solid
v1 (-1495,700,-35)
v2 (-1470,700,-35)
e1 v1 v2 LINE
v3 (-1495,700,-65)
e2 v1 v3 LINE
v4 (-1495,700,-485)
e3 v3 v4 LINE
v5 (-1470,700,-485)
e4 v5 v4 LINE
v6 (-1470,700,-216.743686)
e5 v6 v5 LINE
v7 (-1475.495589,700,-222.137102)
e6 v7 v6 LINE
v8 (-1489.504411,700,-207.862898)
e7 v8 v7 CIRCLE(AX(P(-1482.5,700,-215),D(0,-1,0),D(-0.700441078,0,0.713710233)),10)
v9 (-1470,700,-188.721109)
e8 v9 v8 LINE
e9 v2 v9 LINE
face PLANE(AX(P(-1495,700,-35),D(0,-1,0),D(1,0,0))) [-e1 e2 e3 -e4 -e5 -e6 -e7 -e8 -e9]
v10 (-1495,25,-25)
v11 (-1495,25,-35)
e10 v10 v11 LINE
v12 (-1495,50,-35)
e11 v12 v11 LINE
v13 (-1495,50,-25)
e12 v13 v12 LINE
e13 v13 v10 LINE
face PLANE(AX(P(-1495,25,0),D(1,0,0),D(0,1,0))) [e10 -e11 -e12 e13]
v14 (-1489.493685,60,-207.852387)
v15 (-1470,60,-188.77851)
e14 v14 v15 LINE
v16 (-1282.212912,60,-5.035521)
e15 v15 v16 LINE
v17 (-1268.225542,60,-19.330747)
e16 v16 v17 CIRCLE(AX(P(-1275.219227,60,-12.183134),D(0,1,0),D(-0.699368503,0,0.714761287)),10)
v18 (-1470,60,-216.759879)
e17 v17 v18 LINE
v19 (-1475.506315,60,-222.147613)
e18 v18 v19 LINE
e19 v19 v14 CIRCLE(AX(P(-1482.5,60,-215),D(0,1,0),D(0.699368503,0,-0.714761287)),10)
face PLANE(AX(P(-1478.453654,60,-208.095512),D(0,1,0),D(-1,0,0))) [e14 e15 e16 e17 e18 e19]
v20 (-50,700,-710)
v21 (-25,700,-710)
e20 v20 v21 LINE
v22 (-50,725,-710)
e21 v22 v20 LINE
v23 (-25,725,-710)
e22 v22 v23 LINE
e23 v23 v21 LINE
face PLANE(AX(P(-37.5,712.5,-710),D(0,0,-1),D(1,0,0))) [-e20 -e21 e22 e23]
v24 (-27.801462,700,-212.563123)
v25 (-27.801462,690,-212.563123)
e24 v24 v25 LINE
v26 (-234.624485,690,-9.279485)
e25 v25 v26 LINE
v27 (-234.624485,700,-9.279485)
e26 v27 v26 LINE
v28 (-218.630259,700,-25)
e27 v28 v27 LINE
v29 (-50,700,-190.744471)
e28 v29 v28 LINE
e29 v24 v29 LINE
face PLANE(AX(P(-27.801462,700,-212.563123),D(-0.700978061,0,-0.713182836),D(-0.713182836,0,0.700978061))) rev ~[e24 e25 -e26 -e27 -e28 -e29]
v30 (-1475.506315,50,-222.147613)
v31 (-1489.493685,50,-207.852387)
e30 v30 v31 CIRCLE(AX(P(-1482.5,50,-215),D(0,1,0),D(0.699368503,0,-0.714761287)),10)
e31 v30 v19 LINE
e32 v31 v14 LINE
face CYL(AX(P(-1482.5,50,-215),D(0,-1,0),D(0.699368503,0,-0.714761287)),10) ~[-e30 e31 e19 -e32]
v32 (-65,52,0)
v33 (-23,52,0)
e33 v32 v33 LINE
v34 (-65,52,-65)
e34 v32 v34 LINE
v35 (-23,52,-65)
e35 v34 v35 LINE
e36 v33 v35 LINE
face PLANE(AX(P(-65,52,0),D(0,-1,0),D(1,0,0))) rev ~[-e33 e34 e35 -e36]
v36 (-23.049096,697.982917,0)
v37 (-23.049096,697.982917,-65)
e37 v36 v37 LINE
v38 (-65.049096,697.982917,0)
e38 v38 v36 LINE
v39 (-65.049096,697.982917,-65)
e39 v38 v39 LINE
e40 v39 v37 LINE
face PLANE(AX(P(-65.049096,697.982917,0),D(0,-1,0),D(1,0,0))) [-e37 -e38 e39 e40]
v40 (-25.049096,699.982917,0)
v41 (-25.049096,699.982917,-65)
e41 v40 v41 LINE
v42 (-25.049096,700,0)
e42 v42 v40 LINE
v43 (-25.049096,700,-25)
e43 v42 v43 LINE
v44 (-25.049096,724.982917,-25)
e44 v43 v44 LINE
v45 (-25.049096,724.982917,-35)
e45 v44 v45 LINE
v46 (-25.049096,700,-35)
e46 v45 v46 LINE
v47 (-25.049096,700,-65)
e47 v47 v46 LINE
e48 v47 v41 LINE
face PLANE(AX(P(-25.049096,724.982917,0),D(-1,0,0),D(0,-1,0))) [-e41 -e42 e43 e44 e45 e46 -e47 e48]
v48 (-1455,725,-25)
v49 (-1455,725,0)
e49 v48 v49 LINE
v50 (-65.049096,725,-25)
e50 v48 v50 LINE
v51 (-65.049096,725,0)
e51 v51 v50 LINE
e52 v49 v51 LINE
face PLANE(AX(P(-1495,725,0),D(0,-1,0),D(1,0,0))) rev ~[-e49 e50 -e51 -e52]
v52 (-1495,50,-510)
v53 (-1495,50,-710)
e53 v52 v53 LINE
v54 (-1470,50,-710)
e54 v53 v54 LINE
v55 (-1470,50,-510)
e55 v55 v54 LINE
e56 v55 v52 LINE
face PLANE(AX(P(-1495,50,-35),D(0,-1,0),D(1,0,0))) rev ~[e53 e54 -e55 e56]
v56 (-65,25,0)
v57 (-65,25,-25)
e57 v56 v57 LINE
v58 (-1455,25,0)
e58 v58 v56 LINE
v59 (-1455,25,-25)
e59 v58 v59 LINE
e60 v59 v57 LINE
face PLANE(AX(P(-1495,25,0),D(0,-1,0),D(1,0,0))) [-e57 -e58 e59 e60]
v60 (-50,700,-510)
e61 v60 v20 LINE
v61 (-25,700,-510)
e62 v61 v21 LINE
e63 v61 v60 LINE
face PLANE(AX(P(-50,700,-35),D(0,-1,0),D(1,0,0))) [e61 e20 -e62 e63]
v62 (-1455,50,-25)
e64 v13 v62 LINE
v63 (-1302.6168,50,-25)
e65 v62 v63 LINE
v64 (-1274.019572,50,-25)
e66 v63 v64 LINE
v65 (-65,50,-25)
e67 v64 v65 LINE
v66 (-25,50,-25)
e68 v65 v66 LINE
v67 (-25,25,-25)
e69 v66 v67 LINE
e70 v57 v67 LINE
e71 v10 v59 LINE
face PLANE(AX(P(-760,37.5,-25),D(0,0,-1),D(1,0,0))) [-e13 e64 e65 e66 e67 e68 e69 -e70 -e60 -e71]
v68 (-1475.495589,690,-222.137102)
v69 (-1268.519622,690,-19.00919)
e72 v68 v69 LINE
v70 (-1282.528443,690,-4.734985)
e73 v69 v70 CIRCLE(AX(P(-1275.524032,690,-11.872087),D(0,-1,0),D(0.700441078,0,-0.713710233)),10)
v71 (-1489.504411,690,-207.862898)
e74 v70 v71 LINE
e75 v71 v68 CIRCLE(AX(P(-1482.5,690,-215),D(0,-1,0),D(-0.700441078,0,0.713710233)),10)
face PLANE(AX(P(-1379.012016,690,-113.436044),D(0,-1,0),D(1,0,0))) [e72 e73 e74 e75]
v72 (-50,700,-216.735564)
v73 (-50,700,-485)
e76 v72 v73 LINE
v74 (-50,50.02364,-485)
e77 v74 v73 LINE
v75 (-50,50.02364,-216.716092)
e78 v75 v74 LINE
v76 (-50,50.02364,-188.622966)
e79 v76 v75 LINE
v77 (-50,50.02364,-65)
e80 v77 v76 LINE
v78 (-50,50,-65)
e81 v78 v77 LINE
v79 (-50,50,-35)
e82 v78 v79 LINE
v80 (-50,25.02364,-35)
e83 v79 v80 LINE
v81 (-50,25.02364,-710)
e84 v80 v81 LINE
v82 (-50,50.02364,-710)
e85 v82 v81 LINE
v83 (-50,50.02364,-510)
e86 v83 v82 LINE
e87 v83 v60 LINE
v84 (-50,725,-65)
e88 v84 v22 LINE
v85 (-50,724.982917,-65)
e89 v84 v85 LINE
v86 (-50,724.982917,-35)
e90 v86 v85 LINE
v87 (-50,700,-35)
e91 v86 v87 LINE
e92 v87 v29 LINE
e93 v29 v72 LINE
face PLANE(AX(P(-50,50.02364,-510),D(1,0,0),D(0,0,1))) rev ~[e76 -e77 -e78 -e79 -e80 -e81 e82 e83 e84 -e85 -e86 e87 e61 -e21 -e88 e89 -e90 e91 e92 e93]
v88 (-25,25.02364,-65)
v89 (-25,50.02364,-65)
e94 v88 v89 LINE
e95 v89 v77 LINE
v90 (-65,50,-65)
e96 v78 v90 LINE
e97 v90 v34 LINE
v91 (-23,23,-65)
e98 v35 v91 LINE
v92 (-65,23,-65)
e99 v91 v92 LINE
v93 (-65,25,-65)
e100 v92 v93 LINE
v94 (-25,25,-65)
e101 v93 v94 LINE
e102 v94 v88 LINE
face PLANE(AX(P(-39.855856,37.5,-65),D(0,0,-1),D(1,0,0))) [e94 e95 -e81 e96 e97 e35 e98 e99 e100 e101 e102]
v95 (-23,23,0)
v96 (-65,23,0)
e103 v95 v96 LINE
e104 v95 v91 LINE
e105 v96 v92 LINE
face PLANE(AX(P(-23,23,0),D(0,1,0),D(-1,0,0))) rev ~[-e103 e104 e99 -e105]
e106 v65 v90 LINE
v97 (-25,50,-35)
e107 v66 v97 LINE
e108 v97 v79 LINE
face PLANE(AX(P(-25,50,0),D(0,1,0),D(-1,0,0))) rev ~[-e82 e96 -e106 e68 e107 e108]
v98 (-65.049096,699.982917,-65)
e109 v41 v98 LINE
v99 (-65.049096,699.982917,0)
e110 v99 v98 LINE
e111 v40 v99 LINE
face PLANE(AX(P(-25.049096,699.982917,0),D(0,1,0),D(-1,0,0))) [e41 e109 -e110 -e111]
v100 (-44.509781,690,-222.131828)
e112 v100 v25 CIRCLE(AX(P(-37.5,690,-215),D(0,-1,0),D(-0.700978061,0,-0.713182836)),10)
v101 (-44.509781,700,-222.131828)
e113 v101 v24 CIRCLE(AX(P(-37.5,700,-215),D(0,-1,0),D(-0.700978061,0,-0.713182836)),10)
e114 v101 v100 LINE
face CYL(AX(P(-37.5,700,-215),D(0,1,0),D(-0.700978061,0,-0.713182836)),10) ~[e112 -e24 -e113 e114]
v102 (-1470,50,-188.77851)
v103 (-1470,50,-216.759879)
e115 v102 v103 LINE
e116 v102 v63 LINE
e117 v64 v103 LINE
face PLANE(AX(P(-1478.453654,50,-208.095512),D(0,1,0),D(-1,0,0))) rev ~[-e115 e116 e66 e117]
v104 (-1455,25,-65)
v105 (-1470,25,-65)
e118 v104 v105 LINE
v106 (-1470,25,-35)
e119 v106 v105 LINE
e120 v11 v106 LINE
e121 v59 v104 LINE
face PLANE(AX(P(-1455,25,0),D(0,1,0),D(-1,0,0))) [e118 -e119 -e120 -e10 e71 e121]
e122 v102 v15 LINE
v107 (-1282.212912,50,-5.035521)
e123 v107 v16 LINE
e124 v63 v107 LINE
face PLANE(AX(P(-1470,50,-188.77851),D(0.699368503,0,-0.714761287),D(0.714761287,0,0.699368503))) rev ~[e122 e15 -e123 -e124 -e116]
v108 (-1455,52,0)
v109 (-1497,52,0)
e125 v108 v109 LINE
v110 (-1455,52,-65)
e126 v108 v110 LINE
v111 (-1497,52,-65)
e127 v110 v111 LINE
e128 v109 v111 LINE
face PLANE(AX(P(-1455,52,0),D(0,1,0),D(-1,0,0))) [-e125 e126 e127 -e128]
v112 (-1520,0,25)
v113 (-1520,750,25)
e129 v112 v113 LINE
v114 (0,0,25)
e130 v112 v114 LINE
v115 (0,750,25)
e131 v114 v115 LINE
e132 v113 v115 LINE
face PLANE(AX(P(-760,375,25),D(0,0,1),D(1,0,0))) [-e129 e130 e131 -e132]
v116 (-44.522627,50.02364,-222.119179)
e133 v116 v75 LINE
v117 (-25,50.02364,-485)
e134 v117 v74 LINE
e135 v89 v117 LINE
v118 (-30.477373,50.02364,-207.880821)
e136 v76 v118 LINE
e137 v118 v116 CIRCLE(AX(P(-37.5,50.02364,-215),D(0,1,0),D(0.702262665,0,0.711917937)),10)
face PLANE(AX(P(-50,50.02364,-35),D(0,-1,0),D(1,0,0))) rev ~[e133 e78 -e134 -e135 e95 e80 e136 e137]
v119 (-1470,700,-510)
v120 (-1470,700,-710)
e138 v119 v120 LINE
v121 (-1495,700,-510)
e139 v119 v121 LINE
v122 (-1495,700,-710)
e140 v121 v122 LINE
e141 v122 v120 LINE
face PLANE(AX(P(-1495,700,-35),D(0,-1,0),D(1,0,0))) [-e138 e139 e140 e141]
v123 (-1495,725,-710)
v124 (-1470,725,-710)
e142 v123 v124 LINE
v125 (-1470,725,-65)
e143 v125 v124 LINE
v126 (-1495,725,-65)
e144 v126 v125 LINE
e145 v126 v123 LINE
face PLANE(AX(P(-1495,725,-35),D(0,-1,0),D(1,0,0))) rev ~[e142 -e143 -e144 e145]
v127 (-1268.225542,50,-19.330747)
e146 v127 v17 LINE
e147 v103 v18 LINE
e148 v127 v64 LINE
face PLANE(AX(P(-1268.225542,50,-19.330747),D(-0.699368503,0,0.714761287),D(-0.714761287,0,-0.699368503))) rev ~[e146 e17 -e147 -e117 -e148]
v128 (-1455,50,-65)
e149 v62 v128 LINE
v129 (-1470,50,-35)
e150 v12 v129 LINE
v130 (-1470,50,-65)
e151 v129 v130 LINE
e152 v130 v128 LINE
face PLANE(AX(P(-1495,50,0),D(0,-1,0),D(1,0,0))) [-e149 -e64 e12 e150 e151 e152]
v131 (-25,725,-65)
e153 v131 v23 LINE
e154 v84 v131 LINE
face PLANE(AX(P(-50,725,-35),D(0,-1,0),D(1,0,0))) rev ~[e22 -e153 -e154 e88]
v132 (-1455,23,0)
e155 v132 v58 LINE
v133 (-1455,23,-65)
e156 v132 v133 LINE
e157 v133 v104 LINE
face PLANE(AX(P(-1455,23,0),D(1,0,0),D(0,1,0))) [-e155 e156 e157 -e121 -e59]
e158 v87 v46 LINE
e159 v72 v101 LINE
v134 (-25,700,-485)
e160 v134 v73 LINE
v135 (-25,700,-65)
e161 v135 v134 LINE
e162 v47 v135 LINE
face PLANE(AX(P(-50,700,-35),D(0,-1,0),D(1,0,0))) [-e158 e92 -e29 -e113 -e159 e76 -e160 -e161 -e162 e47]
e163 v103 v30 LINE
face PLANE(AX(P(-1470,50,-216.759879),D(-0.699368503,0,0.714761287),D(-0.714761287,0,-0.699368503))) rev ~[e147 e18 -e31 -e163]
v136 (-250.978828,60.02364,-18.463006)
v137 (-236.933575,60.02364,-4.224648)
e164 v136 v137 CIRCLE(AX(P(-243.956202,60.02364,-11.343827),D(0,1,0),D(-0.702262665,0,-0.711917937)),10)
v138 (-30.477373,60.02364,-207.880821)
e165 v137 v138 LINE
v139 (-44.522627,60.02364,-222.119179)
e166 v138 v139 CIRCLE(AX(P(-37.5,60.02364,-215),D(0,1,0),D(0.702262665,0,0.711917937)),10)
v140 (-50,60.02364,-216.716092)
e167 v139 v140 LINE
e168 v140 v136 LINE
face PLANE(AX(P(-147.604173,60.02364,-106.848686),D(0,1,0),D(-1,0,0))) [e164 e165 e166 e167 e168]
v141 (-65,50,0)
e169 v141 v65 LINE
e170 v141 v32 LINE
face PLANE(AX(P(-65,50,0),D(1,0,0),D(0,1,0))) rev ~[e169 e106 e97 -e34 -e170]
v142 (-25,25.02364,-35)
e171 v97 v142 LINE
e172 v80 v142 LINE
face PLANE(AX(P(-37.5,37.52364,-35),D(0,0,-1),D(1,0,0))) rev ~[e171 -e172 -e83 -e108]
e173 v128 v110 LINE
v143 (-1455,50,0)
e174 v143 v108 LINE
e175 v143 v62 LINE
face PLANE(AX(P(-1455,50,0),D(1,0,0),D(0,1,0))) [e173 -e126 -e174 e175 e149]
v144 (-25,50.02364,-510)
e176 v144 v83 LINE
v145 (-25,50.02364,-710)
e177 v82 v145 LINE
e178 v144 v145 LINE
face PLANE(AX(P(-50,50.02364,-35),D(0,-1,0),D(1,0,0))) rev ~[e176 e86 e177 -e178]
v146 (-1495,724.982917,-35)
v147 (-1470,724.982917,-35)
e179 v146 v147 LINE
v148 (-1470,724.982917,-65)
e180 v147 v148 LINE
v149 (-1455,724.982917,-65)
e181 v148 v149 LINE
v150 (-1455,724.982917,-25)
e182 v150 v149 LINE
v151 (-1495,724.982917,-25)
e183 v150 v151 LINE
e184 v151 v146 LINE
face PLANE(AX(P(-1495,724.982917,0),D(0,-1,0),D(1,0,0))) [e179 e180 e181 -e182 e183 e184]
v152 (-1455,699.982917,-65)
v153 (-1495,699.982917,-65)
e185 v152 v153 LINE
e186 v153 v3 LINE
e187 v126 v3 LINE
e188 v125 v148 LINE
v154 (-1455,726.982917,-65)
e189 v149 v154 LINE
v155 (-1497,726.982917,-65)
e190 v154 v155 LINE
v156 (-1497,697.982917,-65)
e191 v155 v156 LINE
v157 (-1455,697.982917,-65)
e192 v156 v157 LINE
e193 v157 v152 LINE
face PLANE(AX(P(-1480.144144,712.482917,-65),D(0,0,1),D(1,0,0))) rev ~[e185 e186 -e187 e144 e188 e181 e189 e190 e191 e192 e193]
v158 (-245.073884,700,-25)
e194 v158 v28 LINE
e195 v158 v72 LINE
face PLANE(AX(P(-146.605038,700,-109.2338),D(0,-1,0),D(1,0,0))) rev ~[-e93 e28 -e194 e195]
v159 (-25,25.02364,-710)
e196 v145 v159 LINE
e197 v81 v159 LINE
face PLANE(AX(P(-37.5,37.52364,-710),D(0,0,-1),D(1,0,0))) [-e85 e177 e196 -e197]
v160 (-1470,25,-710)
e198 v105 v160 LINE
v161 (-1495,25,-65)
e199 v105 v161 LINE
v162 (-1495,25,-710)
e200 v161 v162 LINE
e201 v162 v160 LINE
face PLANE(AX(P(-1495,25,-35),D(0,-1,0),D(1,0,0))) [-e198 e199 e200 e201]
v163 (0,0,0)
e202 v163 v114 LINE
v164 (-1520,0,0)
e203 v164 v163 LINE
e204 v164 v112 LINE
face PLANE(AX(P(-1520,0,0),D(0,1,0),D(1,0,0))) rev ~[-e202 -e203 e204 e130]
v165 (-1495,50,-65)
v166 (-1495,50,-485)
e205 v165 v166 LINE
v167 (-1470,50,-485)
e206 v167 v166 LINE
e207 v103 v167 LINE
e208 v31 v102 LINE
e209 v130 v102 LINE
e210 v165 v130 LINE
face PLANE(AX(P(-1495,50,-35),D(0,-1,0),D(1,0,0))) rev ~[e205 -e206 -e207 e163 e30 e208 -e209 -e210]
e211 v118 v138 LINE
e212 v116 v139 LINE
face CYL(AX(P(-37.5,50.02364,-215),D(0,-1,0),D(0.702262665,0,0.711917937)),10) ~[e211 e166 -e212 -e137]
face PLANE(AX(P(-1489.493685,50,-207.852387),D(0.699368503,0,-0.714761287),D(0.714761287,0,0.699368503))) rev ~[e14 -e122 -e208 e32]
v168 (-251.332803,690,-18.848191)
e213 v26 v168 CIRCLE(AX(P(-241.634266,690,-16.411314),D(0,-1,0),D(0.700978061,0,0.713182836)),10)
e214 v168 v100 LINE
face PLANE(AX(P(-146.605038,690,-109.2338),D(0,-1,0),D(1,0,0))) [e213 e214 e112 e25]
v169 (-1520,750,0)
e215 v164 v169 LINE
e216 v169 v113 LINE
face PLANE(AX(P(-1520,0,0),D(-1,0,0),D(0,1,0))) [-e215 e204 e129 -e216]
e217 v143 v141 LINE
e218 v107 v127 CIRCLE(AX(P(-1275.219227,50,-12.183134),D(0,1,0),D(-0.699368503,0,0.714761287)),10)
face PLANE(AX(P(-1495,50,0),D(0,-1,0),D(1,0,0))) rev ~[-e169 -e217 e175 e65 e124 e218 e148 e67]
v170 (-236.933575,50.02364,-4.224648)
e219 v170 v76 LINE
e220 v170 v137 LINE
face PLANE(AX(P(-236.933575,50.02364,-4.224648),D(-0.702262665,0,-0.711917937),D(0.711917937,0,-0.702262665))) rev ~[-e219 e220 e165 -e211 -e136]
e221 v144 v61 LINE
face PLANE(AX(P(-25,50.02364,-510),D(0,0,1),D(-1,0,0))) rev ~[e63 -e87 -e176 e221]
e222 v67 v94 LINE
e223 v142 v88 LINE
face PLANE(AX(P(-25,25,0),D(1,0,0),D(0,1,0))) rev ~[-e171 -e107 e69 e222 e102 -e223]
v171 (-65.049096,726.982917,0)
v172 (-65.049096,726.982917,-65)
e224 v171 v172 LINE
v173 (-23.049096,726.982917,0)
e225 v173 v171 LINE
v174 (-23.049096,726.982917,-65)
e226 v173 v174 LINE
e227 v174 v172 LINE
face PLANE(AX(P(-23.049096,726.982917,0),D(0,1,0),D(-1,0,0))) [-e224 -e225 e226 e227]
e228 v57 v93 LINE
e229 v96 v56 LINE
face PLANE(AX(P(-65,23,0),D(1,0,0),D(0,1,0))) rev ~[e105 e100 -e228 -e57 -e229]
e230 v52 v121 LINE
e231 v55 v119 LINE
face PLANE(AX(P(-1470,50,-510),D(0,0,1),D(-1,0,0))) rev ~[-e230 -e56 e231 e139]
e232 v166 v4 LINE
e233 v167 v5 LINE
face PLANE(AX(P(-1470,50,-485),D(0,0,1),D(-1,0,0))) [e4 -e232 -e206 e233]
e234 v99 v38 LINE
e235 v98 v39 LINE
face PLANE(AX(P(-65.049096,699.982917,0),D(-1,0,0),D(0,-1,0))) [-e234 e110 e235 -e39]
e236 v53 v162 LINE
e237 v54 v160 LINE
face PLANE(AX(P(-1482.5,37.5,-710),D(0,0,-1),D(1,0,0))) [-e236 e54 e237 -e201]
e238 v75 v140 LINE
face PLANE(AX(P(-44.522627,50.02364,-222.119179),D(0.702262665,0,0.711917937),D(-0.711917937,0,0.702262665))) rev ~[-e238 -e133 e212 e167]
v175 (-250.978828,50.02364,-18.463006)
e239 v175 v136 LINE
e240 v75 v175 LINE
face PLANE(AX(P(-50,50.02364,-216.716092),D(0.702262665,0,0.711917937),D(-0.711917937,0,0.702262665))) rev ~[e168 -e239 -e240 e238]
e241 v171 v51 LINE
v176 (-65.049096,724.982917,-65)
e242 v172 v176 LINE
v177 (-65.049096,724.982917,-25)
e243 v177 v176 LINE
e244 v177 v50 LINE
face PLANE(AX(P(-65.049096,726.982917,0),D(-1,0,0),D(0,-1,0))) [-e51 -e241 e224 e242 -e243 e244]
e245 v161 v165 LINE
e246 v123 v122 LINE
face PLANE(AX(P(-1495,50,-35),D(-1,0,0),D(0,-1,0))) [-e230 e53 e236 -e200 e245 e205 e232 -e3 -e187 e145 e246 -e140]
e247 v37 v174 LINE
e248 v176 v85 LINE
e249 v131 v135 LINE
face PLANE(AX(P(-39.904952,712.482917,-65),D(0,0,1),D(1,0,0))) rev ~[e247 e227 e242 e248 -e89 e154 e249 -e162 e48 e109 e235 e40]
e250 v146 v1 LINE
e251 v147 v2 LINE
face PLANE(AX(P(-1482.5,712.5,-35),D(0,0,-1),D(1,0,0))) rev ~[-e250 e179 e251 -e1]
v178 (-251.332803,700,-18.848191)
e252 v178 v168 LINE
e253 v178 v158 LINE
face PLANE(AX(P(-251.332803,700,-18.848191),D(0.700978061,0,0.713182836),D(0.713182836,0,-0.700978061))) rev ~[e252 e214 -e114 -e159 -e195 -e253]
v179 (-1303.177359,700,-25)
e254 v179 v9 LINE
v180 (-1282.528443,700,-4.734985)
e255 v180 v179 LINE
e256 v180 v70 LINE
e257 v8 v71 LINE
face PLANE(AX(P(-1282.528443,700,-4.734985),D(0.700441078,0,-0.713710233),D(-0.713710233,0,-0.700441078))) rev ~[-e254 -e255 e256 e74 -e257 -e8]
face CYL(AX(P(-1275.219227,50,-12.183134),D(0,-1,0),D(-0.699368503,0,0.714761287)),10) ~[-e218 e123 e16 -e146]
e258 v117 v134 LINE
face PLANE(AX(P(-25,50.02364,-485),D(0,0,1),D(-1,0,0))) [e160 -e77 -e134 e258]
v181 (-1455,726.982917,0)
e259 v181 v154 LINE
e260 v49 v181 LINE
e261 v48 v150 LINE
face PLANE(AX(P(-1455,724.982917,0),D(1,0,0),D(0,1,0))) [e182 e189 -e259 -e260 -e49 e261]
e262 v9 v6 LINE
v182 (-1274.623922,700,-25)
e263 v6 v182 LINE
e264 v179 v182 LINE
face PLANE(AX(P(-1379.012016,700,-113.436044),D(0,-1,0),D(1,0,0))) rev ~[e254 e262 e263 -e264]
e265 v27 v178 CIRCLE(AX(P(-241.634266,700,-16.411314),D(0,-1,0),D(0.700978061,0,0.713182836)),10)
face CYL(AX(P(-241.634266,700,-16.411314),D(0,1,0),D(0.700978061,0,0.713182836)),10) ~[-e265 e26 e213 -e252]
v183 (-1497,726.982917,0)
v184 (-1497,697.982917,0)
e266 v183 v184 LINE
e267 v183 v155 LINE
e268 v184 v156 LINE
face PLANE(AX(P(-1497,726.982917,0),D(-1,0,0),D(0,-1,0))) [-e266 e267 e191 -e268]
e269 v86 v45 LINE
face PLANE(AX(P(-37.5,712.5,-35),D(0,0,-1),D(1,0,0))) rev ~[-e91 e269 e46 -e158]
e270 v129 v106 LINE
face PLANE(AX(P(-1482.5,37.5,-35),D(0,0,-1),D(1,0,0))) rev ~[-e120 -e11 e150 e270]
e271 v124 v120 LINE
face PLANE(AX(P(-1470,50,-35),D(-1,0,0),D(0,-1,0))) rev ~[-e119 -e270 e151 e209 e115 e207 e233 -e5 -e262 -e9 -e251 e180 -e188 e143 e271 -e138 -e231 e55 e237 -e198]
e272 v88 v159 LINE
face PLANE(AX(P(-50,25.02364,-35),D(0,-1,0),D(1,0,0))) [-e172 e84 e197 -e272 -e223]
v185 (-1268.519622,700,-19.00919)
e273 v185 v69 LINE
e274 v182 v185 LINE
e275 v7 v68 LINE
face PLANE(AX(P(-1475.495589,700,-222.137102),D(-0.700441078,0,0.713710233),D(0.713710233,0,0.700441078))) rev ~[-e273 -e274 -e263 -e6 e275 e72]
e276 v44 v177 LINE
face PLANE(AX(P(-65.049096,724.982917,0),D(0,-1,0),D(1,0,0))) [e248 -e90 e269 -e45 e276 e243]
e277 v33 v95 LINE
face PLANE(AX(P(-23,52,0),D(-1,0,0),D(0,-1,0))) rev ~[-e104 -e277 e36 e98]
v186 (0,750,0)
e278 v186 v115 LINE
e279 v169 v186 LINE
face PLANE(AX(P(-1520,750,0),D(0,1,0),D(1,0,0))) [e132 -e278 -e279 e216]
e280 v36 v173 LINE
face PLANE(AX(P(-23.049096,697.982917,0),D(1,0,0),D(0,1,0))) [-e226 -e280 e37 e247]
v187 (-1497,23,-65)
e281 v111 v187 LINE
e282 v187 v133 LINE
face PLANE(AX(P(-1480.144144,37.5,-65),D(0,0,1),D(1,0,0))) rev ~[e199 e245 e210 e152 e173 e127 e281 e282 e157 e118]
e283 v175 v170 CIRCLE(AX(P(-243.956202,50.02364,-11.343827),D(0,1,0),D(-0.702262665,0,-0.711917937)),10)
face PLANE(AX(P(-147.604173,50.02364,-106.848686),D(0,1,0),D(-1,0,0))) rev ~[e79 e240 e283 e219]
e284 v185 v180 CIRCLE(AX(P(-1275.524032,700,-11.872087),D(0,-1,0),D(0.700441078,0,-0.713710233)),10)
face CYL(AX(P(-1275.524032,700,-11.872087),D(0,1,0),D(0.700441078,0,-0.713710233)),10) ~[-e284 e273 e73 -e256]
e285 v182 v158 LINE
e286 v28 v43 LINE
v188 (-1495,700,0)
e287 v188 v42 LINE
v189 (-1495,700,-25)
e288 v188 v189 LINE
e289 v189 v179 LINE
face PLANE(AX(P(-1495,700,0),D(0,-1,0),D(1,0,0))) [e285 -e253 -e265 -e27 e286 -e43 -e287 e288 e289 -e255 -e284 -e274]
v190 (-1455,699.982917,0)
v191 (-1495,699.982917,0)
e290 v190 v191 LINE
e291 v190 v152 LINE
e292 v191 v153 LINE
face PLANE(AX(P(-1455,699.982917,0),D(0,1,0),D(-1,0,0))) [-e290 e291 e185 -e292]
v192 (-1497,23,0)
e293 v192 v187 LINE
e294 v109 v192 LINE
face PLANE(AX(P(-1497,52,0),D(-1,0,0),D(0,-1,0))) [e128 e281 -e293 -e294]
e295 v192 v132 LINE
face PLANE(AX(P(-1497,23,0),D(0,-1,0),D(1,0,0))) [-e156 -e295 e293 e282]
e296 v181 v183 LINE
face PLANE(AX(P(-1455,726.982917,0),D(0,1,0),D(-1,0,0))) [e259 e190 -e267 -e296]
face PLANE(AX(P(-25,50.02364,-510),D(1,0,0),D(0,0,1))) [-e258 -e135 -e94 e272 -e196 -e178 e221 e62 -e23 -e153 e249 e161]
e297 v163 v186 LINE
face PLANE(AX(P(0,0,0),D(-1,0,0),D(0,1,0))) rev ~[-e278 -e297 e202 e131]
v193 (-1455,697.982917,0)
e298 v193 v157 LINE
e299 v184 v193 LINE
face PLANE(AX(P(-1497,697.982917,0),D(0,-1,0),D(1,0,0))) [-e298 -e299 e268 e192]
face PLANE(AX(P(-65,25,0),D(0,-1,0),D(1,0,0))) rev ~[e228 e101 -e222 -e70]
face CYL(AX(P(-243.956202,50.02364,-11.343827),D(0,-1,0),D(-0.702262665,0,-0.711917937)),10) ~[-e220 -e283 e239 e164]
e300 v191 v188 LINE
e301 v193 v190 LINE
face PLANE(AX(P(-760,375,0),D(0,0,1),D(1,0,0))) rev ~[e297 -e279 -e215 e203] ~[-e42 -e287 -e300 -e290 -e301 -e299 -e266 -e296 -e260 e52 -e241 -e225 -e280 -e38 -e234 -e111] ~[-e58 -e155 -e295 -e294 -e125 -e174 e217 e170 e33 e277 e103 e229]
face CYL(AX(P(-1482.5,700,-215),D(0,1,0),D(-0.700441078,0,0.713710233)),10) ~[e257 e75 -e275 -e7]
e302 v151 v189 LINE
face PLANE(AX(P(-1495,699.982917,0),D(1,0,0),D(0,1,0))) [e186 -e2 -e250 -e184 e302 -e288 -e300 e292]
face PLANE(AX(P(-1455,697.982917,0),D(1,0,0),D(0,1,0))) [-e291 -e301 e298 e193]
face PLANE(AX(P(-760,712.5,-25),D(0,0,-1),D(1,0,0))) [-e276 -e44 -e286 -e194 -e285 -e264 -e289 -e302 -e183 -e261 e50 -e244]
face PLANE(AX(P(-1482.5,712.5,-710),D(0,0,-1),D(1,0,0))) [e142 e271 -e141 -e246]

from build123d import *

# Parameters (mm, degrees)
F0_W      = 1520
F0_H      = 750
F1_DEPTH  = 25
F2_W      = 1470
F2_H      = 25
F3_DEPTH  = 25
F5_DEPTH  = 65
F7_W      = 25
F7_H      = 25
F8_DEPTH  = 675
F10_DEPTH = 65
F12_W     = 25
F12_H     = 25
F13_DEPTH = 675
F15_W     = 25
F15_H     = 25
F16_DEPTH = 675
F18_W     = 25
F18_H     = 25
F19_DEPTH = 650
F21_W     = 25
F21_H     = 25
F22_DEPTH = 650
F24_DEPTH = 10
F26_DEPTH = 10
F29_DEPTH = 10
F31_DEPTH = 10


with BuildPart() as f1:
    # F0 (on Top) → F1 (new body)
    with BuildSketch(Plane.XY):
        with Locations((-760, 375)):
            Rectangle(F0_W, F0_H)
    extrude(amount=F1_DEPTH)

    # F2 (on face) → F3 (join)
    with BuildSketch(Plane(origin=(0, 0, 0), x_dir=(1, 0, 0), z_dir=(0, 0, -1))):
        with Locations((-760, -37.5)):
            Rectangle(F2_W, F2_H)
        with Locations((-760, -712.5)):
            Rectangle(F2_W, F2_H)
    extrude(amount=F3_DEPTH)

    # F4 (on face) → F5 (join)
    with BuildSketch(Plane(origin=(0, 0, 0), x_dir=(1, 0, 0), z_dir=(0, 0, -1))):
        Polygon((-65, -25), (-25, -25), (-25, -50), (-65, -50), (-65, -52), (-23, -52), (-23, -23), (-65, -23), align=None)
    extrude(amount=F5_DEPTH)

    # F7 (on offset) → F8 (join)
    with BuildSketch(Plane(origin=(0, 0, -35), x_dir=(1, 0, 0), z_dir=(0, 0, -1))):
        with Locations((-37.5, -37.523640207)):
            Rectangle(F7_W, F7_H)
    extrude(amount=F8_DEPTH)

    # F9 (on face) → F10 (join)
    with BuildSketch(Plane.XY):
        Polygon((-1495, 724.9829173088), (-1455, 724.9829173088), (-1455, 726.9829173088), (-1497, 726.9829173088), (-1497, 697.9829173088), (-1455, 697.9829173088), (-1455, 699.9829173088), (-1495, 699.9829173088), align=None)
        Polygon((-65.0490959734, 726.9829173088), (-65.0490959734, 724.9829173088), (-25.0490959734, 724.9829173088), (-25.0490959734, 699.9829173088), (-65.0490959734, 699.9829173088), (-65.0490959734, 697.9829173088), (-23.0490959734, 697.9829173088), (-23.0490959734, 726.9829173088), align=None)
        Polygon((-1455, 25), (-1495, 25), (-1495, 50), (-1455, 50), (-1455, 52), (-1497, 52), (-1497, 23), (-1455, 23), align=None)
    extrude(amount=-F10_DEPTH)

    # F12 (on offset) → F13 (join)
    with BuildSketch(Plane(origin=(0, 0, -35), x_dir=(1, 0, 0), z_dir=(0, 0, -1))):
        with Locations((-1482.5, -37.5)):
            Rectangle(F12_W, F12_H)
    extrude(amount=F13_DEPTH)

    # F15 (on offset) → F16 (join)
    with BuildSketch(Plane(origin=(0, 0, -35), x_dir=(1, 0, 0), z_dir=(0, 0, -1))):
        with Locations((-37.5, -712.5)):
            Rectangle(F15_W, F15_H)
        with Locations((-1482.5, -712.5)):
            Rectangle(F15_W, F15_H)
    extrude(amount=F16_DEPTH)

    # F18 (on offset) → F19 (join)
    with BuildSketch(Plane(origin=(0, 50.023640207, 0), x_dir=(-1, 0, 0), z_dir=(0, 1, 0))):
        with Locations((37.5, -497.5)):
            Rectangle(F18_W, F18_H)
    extrude(amount=F19_DEPTH)

    # F21 (on offset) → F22 (join)
    with BuildSketch(Plane(origin=(0, 50, 0), x_dir=(-1, 0, 0), z_dir=(0, 1, 0))):
        with Locations((1482.5, -497.5)):
            Rectangle(F21_W, F21_H)
    extrude(amount=F22_DEPTH)

    # F23 (on face) → F24 (join)
    with BuildSketch(Plane.XZ.offset(-700)):
        with BuildLine():
            Line((-50, -190.7444713597), (-234.6244849475, -9.2794851613))
            ThreePointArc((-234.6244849475, -9.2794851613), (-246.6039118675, -7.7336055545), (-251.332803081, -18.8481906111))
            Line((-251.332803081, -18.8481906111), (-50, -216.7355636904))
            Line((-50, -216.7355636904), (-50, -190.7444713597))
        make_face()
        with BuildLine():
            Line((-27.8014624786, -212.5631229112), (-50, -190.7444713597))
            Line((-50, -190.7444713597), (-50, -216.7355636904))
            Line((-50, -216.7355636904), (-44.5097806121, -222.131828361))
            ThreePointArc((-44.5097806121, -222.131828361), (-32.5303536921, -223.6777079678), (-27.8014624786, -212.5631229112))
        make_face()
    extrude(amount=F24_DEPTH)

    # F25 (on face) → F26 (join)
    with BuildSketch(Plane(origin=(0, 50.023640207, 0), x_dir=(-1, 0, 0), z_dir=(0, 1, 0))):
        with BuildLine():
            Line((50, -188.6229664357), (50, -216.7160920101))
            Line((50, -216.7160920101), (250.9788283543, -18.4630064225))
            ThreePointArc((250.9788283543, -18.4630064225), (251.07538107, -4.3212004002), (236.9335750477, -4.2246476845))
            Line((236.9335750477, -4.2246476845), (50, -188.6229664357))
        make_face()
        with BuildLine():
            ThreePointArc((30.4773733467, -207.880820631), (30.380820631, -222.0226266533), (44.5226266533, -222.119179369))
            Line((44.5226266533, -222.119179369), (50, -216.7160920101))
            Line((50, -216.7160920101), (50, -188.6229664357))
            Line((50, -188.6229664357), (30.4773733467, -207.880820631))
        make_face()
    extrude(amount=F26_DEPTH)

    # F28 (on offset) → F29 (join)
    with BuildSketch(Plane.XZ.offset(-700)):
        with BuildLine():
            ThreePointArc((-1268.519621658, -19.0091897955), (-1268.3869301053, -4.8676766886), (-1282.5284432121, -4.7349851358))
            Line((-1282.5284432121, -4.7349851358), (-1489.504410777, -207.8628976702))
            ThreePointArc((-1489.504410777, -207.8628976702), (-1489.6371023298, -222.004410777), (-1475.495589223, -222.1371023298))
            Line((-1475.495589223, -222.1371023298), (-1268.519621658, -19.0091897955))
        make_face()
    extrude(amount=F29_DEPTH)

    # F30 (on face) → F31 (join)
    with BuildSketch(Plane(origin=(0, 50, 0), x_dir=(-1, 0, 0), z_dir=(0, 1, 0))):
        with BuildLine():
            ThreePointArc((1475.506314972, -222.1476128693), (1489.6476128693, -221.993685028), (1489.493685028, -207.8523871307))
            Line((1489.493685028, -207.8523871307), (1470, -188.7785095141))
            Line((1470, -188.7785095141), (1470, -216.7598794703))
            Line((1470, -216.7598794703), (1475.506314972, -222.1476128693))
        make_face()
        with BuildLine():
            Line((1470, -216.7598794703), (1470, -188.7785095141))
            Line((1470, -188.7785095141), (1282.212911818, -5.0355213195))
            ThreePointArc((1282.212911818, -5.0355213195), (1268.0716139207, -5.1894491609), (1268.225541762, -19.3307470582))
            Line((1268.225541762, -19.3307470582), (1470, -216.7598794703))
        make_face()
    extrude(amount=F31_DEPTH)


solid = f1.part
